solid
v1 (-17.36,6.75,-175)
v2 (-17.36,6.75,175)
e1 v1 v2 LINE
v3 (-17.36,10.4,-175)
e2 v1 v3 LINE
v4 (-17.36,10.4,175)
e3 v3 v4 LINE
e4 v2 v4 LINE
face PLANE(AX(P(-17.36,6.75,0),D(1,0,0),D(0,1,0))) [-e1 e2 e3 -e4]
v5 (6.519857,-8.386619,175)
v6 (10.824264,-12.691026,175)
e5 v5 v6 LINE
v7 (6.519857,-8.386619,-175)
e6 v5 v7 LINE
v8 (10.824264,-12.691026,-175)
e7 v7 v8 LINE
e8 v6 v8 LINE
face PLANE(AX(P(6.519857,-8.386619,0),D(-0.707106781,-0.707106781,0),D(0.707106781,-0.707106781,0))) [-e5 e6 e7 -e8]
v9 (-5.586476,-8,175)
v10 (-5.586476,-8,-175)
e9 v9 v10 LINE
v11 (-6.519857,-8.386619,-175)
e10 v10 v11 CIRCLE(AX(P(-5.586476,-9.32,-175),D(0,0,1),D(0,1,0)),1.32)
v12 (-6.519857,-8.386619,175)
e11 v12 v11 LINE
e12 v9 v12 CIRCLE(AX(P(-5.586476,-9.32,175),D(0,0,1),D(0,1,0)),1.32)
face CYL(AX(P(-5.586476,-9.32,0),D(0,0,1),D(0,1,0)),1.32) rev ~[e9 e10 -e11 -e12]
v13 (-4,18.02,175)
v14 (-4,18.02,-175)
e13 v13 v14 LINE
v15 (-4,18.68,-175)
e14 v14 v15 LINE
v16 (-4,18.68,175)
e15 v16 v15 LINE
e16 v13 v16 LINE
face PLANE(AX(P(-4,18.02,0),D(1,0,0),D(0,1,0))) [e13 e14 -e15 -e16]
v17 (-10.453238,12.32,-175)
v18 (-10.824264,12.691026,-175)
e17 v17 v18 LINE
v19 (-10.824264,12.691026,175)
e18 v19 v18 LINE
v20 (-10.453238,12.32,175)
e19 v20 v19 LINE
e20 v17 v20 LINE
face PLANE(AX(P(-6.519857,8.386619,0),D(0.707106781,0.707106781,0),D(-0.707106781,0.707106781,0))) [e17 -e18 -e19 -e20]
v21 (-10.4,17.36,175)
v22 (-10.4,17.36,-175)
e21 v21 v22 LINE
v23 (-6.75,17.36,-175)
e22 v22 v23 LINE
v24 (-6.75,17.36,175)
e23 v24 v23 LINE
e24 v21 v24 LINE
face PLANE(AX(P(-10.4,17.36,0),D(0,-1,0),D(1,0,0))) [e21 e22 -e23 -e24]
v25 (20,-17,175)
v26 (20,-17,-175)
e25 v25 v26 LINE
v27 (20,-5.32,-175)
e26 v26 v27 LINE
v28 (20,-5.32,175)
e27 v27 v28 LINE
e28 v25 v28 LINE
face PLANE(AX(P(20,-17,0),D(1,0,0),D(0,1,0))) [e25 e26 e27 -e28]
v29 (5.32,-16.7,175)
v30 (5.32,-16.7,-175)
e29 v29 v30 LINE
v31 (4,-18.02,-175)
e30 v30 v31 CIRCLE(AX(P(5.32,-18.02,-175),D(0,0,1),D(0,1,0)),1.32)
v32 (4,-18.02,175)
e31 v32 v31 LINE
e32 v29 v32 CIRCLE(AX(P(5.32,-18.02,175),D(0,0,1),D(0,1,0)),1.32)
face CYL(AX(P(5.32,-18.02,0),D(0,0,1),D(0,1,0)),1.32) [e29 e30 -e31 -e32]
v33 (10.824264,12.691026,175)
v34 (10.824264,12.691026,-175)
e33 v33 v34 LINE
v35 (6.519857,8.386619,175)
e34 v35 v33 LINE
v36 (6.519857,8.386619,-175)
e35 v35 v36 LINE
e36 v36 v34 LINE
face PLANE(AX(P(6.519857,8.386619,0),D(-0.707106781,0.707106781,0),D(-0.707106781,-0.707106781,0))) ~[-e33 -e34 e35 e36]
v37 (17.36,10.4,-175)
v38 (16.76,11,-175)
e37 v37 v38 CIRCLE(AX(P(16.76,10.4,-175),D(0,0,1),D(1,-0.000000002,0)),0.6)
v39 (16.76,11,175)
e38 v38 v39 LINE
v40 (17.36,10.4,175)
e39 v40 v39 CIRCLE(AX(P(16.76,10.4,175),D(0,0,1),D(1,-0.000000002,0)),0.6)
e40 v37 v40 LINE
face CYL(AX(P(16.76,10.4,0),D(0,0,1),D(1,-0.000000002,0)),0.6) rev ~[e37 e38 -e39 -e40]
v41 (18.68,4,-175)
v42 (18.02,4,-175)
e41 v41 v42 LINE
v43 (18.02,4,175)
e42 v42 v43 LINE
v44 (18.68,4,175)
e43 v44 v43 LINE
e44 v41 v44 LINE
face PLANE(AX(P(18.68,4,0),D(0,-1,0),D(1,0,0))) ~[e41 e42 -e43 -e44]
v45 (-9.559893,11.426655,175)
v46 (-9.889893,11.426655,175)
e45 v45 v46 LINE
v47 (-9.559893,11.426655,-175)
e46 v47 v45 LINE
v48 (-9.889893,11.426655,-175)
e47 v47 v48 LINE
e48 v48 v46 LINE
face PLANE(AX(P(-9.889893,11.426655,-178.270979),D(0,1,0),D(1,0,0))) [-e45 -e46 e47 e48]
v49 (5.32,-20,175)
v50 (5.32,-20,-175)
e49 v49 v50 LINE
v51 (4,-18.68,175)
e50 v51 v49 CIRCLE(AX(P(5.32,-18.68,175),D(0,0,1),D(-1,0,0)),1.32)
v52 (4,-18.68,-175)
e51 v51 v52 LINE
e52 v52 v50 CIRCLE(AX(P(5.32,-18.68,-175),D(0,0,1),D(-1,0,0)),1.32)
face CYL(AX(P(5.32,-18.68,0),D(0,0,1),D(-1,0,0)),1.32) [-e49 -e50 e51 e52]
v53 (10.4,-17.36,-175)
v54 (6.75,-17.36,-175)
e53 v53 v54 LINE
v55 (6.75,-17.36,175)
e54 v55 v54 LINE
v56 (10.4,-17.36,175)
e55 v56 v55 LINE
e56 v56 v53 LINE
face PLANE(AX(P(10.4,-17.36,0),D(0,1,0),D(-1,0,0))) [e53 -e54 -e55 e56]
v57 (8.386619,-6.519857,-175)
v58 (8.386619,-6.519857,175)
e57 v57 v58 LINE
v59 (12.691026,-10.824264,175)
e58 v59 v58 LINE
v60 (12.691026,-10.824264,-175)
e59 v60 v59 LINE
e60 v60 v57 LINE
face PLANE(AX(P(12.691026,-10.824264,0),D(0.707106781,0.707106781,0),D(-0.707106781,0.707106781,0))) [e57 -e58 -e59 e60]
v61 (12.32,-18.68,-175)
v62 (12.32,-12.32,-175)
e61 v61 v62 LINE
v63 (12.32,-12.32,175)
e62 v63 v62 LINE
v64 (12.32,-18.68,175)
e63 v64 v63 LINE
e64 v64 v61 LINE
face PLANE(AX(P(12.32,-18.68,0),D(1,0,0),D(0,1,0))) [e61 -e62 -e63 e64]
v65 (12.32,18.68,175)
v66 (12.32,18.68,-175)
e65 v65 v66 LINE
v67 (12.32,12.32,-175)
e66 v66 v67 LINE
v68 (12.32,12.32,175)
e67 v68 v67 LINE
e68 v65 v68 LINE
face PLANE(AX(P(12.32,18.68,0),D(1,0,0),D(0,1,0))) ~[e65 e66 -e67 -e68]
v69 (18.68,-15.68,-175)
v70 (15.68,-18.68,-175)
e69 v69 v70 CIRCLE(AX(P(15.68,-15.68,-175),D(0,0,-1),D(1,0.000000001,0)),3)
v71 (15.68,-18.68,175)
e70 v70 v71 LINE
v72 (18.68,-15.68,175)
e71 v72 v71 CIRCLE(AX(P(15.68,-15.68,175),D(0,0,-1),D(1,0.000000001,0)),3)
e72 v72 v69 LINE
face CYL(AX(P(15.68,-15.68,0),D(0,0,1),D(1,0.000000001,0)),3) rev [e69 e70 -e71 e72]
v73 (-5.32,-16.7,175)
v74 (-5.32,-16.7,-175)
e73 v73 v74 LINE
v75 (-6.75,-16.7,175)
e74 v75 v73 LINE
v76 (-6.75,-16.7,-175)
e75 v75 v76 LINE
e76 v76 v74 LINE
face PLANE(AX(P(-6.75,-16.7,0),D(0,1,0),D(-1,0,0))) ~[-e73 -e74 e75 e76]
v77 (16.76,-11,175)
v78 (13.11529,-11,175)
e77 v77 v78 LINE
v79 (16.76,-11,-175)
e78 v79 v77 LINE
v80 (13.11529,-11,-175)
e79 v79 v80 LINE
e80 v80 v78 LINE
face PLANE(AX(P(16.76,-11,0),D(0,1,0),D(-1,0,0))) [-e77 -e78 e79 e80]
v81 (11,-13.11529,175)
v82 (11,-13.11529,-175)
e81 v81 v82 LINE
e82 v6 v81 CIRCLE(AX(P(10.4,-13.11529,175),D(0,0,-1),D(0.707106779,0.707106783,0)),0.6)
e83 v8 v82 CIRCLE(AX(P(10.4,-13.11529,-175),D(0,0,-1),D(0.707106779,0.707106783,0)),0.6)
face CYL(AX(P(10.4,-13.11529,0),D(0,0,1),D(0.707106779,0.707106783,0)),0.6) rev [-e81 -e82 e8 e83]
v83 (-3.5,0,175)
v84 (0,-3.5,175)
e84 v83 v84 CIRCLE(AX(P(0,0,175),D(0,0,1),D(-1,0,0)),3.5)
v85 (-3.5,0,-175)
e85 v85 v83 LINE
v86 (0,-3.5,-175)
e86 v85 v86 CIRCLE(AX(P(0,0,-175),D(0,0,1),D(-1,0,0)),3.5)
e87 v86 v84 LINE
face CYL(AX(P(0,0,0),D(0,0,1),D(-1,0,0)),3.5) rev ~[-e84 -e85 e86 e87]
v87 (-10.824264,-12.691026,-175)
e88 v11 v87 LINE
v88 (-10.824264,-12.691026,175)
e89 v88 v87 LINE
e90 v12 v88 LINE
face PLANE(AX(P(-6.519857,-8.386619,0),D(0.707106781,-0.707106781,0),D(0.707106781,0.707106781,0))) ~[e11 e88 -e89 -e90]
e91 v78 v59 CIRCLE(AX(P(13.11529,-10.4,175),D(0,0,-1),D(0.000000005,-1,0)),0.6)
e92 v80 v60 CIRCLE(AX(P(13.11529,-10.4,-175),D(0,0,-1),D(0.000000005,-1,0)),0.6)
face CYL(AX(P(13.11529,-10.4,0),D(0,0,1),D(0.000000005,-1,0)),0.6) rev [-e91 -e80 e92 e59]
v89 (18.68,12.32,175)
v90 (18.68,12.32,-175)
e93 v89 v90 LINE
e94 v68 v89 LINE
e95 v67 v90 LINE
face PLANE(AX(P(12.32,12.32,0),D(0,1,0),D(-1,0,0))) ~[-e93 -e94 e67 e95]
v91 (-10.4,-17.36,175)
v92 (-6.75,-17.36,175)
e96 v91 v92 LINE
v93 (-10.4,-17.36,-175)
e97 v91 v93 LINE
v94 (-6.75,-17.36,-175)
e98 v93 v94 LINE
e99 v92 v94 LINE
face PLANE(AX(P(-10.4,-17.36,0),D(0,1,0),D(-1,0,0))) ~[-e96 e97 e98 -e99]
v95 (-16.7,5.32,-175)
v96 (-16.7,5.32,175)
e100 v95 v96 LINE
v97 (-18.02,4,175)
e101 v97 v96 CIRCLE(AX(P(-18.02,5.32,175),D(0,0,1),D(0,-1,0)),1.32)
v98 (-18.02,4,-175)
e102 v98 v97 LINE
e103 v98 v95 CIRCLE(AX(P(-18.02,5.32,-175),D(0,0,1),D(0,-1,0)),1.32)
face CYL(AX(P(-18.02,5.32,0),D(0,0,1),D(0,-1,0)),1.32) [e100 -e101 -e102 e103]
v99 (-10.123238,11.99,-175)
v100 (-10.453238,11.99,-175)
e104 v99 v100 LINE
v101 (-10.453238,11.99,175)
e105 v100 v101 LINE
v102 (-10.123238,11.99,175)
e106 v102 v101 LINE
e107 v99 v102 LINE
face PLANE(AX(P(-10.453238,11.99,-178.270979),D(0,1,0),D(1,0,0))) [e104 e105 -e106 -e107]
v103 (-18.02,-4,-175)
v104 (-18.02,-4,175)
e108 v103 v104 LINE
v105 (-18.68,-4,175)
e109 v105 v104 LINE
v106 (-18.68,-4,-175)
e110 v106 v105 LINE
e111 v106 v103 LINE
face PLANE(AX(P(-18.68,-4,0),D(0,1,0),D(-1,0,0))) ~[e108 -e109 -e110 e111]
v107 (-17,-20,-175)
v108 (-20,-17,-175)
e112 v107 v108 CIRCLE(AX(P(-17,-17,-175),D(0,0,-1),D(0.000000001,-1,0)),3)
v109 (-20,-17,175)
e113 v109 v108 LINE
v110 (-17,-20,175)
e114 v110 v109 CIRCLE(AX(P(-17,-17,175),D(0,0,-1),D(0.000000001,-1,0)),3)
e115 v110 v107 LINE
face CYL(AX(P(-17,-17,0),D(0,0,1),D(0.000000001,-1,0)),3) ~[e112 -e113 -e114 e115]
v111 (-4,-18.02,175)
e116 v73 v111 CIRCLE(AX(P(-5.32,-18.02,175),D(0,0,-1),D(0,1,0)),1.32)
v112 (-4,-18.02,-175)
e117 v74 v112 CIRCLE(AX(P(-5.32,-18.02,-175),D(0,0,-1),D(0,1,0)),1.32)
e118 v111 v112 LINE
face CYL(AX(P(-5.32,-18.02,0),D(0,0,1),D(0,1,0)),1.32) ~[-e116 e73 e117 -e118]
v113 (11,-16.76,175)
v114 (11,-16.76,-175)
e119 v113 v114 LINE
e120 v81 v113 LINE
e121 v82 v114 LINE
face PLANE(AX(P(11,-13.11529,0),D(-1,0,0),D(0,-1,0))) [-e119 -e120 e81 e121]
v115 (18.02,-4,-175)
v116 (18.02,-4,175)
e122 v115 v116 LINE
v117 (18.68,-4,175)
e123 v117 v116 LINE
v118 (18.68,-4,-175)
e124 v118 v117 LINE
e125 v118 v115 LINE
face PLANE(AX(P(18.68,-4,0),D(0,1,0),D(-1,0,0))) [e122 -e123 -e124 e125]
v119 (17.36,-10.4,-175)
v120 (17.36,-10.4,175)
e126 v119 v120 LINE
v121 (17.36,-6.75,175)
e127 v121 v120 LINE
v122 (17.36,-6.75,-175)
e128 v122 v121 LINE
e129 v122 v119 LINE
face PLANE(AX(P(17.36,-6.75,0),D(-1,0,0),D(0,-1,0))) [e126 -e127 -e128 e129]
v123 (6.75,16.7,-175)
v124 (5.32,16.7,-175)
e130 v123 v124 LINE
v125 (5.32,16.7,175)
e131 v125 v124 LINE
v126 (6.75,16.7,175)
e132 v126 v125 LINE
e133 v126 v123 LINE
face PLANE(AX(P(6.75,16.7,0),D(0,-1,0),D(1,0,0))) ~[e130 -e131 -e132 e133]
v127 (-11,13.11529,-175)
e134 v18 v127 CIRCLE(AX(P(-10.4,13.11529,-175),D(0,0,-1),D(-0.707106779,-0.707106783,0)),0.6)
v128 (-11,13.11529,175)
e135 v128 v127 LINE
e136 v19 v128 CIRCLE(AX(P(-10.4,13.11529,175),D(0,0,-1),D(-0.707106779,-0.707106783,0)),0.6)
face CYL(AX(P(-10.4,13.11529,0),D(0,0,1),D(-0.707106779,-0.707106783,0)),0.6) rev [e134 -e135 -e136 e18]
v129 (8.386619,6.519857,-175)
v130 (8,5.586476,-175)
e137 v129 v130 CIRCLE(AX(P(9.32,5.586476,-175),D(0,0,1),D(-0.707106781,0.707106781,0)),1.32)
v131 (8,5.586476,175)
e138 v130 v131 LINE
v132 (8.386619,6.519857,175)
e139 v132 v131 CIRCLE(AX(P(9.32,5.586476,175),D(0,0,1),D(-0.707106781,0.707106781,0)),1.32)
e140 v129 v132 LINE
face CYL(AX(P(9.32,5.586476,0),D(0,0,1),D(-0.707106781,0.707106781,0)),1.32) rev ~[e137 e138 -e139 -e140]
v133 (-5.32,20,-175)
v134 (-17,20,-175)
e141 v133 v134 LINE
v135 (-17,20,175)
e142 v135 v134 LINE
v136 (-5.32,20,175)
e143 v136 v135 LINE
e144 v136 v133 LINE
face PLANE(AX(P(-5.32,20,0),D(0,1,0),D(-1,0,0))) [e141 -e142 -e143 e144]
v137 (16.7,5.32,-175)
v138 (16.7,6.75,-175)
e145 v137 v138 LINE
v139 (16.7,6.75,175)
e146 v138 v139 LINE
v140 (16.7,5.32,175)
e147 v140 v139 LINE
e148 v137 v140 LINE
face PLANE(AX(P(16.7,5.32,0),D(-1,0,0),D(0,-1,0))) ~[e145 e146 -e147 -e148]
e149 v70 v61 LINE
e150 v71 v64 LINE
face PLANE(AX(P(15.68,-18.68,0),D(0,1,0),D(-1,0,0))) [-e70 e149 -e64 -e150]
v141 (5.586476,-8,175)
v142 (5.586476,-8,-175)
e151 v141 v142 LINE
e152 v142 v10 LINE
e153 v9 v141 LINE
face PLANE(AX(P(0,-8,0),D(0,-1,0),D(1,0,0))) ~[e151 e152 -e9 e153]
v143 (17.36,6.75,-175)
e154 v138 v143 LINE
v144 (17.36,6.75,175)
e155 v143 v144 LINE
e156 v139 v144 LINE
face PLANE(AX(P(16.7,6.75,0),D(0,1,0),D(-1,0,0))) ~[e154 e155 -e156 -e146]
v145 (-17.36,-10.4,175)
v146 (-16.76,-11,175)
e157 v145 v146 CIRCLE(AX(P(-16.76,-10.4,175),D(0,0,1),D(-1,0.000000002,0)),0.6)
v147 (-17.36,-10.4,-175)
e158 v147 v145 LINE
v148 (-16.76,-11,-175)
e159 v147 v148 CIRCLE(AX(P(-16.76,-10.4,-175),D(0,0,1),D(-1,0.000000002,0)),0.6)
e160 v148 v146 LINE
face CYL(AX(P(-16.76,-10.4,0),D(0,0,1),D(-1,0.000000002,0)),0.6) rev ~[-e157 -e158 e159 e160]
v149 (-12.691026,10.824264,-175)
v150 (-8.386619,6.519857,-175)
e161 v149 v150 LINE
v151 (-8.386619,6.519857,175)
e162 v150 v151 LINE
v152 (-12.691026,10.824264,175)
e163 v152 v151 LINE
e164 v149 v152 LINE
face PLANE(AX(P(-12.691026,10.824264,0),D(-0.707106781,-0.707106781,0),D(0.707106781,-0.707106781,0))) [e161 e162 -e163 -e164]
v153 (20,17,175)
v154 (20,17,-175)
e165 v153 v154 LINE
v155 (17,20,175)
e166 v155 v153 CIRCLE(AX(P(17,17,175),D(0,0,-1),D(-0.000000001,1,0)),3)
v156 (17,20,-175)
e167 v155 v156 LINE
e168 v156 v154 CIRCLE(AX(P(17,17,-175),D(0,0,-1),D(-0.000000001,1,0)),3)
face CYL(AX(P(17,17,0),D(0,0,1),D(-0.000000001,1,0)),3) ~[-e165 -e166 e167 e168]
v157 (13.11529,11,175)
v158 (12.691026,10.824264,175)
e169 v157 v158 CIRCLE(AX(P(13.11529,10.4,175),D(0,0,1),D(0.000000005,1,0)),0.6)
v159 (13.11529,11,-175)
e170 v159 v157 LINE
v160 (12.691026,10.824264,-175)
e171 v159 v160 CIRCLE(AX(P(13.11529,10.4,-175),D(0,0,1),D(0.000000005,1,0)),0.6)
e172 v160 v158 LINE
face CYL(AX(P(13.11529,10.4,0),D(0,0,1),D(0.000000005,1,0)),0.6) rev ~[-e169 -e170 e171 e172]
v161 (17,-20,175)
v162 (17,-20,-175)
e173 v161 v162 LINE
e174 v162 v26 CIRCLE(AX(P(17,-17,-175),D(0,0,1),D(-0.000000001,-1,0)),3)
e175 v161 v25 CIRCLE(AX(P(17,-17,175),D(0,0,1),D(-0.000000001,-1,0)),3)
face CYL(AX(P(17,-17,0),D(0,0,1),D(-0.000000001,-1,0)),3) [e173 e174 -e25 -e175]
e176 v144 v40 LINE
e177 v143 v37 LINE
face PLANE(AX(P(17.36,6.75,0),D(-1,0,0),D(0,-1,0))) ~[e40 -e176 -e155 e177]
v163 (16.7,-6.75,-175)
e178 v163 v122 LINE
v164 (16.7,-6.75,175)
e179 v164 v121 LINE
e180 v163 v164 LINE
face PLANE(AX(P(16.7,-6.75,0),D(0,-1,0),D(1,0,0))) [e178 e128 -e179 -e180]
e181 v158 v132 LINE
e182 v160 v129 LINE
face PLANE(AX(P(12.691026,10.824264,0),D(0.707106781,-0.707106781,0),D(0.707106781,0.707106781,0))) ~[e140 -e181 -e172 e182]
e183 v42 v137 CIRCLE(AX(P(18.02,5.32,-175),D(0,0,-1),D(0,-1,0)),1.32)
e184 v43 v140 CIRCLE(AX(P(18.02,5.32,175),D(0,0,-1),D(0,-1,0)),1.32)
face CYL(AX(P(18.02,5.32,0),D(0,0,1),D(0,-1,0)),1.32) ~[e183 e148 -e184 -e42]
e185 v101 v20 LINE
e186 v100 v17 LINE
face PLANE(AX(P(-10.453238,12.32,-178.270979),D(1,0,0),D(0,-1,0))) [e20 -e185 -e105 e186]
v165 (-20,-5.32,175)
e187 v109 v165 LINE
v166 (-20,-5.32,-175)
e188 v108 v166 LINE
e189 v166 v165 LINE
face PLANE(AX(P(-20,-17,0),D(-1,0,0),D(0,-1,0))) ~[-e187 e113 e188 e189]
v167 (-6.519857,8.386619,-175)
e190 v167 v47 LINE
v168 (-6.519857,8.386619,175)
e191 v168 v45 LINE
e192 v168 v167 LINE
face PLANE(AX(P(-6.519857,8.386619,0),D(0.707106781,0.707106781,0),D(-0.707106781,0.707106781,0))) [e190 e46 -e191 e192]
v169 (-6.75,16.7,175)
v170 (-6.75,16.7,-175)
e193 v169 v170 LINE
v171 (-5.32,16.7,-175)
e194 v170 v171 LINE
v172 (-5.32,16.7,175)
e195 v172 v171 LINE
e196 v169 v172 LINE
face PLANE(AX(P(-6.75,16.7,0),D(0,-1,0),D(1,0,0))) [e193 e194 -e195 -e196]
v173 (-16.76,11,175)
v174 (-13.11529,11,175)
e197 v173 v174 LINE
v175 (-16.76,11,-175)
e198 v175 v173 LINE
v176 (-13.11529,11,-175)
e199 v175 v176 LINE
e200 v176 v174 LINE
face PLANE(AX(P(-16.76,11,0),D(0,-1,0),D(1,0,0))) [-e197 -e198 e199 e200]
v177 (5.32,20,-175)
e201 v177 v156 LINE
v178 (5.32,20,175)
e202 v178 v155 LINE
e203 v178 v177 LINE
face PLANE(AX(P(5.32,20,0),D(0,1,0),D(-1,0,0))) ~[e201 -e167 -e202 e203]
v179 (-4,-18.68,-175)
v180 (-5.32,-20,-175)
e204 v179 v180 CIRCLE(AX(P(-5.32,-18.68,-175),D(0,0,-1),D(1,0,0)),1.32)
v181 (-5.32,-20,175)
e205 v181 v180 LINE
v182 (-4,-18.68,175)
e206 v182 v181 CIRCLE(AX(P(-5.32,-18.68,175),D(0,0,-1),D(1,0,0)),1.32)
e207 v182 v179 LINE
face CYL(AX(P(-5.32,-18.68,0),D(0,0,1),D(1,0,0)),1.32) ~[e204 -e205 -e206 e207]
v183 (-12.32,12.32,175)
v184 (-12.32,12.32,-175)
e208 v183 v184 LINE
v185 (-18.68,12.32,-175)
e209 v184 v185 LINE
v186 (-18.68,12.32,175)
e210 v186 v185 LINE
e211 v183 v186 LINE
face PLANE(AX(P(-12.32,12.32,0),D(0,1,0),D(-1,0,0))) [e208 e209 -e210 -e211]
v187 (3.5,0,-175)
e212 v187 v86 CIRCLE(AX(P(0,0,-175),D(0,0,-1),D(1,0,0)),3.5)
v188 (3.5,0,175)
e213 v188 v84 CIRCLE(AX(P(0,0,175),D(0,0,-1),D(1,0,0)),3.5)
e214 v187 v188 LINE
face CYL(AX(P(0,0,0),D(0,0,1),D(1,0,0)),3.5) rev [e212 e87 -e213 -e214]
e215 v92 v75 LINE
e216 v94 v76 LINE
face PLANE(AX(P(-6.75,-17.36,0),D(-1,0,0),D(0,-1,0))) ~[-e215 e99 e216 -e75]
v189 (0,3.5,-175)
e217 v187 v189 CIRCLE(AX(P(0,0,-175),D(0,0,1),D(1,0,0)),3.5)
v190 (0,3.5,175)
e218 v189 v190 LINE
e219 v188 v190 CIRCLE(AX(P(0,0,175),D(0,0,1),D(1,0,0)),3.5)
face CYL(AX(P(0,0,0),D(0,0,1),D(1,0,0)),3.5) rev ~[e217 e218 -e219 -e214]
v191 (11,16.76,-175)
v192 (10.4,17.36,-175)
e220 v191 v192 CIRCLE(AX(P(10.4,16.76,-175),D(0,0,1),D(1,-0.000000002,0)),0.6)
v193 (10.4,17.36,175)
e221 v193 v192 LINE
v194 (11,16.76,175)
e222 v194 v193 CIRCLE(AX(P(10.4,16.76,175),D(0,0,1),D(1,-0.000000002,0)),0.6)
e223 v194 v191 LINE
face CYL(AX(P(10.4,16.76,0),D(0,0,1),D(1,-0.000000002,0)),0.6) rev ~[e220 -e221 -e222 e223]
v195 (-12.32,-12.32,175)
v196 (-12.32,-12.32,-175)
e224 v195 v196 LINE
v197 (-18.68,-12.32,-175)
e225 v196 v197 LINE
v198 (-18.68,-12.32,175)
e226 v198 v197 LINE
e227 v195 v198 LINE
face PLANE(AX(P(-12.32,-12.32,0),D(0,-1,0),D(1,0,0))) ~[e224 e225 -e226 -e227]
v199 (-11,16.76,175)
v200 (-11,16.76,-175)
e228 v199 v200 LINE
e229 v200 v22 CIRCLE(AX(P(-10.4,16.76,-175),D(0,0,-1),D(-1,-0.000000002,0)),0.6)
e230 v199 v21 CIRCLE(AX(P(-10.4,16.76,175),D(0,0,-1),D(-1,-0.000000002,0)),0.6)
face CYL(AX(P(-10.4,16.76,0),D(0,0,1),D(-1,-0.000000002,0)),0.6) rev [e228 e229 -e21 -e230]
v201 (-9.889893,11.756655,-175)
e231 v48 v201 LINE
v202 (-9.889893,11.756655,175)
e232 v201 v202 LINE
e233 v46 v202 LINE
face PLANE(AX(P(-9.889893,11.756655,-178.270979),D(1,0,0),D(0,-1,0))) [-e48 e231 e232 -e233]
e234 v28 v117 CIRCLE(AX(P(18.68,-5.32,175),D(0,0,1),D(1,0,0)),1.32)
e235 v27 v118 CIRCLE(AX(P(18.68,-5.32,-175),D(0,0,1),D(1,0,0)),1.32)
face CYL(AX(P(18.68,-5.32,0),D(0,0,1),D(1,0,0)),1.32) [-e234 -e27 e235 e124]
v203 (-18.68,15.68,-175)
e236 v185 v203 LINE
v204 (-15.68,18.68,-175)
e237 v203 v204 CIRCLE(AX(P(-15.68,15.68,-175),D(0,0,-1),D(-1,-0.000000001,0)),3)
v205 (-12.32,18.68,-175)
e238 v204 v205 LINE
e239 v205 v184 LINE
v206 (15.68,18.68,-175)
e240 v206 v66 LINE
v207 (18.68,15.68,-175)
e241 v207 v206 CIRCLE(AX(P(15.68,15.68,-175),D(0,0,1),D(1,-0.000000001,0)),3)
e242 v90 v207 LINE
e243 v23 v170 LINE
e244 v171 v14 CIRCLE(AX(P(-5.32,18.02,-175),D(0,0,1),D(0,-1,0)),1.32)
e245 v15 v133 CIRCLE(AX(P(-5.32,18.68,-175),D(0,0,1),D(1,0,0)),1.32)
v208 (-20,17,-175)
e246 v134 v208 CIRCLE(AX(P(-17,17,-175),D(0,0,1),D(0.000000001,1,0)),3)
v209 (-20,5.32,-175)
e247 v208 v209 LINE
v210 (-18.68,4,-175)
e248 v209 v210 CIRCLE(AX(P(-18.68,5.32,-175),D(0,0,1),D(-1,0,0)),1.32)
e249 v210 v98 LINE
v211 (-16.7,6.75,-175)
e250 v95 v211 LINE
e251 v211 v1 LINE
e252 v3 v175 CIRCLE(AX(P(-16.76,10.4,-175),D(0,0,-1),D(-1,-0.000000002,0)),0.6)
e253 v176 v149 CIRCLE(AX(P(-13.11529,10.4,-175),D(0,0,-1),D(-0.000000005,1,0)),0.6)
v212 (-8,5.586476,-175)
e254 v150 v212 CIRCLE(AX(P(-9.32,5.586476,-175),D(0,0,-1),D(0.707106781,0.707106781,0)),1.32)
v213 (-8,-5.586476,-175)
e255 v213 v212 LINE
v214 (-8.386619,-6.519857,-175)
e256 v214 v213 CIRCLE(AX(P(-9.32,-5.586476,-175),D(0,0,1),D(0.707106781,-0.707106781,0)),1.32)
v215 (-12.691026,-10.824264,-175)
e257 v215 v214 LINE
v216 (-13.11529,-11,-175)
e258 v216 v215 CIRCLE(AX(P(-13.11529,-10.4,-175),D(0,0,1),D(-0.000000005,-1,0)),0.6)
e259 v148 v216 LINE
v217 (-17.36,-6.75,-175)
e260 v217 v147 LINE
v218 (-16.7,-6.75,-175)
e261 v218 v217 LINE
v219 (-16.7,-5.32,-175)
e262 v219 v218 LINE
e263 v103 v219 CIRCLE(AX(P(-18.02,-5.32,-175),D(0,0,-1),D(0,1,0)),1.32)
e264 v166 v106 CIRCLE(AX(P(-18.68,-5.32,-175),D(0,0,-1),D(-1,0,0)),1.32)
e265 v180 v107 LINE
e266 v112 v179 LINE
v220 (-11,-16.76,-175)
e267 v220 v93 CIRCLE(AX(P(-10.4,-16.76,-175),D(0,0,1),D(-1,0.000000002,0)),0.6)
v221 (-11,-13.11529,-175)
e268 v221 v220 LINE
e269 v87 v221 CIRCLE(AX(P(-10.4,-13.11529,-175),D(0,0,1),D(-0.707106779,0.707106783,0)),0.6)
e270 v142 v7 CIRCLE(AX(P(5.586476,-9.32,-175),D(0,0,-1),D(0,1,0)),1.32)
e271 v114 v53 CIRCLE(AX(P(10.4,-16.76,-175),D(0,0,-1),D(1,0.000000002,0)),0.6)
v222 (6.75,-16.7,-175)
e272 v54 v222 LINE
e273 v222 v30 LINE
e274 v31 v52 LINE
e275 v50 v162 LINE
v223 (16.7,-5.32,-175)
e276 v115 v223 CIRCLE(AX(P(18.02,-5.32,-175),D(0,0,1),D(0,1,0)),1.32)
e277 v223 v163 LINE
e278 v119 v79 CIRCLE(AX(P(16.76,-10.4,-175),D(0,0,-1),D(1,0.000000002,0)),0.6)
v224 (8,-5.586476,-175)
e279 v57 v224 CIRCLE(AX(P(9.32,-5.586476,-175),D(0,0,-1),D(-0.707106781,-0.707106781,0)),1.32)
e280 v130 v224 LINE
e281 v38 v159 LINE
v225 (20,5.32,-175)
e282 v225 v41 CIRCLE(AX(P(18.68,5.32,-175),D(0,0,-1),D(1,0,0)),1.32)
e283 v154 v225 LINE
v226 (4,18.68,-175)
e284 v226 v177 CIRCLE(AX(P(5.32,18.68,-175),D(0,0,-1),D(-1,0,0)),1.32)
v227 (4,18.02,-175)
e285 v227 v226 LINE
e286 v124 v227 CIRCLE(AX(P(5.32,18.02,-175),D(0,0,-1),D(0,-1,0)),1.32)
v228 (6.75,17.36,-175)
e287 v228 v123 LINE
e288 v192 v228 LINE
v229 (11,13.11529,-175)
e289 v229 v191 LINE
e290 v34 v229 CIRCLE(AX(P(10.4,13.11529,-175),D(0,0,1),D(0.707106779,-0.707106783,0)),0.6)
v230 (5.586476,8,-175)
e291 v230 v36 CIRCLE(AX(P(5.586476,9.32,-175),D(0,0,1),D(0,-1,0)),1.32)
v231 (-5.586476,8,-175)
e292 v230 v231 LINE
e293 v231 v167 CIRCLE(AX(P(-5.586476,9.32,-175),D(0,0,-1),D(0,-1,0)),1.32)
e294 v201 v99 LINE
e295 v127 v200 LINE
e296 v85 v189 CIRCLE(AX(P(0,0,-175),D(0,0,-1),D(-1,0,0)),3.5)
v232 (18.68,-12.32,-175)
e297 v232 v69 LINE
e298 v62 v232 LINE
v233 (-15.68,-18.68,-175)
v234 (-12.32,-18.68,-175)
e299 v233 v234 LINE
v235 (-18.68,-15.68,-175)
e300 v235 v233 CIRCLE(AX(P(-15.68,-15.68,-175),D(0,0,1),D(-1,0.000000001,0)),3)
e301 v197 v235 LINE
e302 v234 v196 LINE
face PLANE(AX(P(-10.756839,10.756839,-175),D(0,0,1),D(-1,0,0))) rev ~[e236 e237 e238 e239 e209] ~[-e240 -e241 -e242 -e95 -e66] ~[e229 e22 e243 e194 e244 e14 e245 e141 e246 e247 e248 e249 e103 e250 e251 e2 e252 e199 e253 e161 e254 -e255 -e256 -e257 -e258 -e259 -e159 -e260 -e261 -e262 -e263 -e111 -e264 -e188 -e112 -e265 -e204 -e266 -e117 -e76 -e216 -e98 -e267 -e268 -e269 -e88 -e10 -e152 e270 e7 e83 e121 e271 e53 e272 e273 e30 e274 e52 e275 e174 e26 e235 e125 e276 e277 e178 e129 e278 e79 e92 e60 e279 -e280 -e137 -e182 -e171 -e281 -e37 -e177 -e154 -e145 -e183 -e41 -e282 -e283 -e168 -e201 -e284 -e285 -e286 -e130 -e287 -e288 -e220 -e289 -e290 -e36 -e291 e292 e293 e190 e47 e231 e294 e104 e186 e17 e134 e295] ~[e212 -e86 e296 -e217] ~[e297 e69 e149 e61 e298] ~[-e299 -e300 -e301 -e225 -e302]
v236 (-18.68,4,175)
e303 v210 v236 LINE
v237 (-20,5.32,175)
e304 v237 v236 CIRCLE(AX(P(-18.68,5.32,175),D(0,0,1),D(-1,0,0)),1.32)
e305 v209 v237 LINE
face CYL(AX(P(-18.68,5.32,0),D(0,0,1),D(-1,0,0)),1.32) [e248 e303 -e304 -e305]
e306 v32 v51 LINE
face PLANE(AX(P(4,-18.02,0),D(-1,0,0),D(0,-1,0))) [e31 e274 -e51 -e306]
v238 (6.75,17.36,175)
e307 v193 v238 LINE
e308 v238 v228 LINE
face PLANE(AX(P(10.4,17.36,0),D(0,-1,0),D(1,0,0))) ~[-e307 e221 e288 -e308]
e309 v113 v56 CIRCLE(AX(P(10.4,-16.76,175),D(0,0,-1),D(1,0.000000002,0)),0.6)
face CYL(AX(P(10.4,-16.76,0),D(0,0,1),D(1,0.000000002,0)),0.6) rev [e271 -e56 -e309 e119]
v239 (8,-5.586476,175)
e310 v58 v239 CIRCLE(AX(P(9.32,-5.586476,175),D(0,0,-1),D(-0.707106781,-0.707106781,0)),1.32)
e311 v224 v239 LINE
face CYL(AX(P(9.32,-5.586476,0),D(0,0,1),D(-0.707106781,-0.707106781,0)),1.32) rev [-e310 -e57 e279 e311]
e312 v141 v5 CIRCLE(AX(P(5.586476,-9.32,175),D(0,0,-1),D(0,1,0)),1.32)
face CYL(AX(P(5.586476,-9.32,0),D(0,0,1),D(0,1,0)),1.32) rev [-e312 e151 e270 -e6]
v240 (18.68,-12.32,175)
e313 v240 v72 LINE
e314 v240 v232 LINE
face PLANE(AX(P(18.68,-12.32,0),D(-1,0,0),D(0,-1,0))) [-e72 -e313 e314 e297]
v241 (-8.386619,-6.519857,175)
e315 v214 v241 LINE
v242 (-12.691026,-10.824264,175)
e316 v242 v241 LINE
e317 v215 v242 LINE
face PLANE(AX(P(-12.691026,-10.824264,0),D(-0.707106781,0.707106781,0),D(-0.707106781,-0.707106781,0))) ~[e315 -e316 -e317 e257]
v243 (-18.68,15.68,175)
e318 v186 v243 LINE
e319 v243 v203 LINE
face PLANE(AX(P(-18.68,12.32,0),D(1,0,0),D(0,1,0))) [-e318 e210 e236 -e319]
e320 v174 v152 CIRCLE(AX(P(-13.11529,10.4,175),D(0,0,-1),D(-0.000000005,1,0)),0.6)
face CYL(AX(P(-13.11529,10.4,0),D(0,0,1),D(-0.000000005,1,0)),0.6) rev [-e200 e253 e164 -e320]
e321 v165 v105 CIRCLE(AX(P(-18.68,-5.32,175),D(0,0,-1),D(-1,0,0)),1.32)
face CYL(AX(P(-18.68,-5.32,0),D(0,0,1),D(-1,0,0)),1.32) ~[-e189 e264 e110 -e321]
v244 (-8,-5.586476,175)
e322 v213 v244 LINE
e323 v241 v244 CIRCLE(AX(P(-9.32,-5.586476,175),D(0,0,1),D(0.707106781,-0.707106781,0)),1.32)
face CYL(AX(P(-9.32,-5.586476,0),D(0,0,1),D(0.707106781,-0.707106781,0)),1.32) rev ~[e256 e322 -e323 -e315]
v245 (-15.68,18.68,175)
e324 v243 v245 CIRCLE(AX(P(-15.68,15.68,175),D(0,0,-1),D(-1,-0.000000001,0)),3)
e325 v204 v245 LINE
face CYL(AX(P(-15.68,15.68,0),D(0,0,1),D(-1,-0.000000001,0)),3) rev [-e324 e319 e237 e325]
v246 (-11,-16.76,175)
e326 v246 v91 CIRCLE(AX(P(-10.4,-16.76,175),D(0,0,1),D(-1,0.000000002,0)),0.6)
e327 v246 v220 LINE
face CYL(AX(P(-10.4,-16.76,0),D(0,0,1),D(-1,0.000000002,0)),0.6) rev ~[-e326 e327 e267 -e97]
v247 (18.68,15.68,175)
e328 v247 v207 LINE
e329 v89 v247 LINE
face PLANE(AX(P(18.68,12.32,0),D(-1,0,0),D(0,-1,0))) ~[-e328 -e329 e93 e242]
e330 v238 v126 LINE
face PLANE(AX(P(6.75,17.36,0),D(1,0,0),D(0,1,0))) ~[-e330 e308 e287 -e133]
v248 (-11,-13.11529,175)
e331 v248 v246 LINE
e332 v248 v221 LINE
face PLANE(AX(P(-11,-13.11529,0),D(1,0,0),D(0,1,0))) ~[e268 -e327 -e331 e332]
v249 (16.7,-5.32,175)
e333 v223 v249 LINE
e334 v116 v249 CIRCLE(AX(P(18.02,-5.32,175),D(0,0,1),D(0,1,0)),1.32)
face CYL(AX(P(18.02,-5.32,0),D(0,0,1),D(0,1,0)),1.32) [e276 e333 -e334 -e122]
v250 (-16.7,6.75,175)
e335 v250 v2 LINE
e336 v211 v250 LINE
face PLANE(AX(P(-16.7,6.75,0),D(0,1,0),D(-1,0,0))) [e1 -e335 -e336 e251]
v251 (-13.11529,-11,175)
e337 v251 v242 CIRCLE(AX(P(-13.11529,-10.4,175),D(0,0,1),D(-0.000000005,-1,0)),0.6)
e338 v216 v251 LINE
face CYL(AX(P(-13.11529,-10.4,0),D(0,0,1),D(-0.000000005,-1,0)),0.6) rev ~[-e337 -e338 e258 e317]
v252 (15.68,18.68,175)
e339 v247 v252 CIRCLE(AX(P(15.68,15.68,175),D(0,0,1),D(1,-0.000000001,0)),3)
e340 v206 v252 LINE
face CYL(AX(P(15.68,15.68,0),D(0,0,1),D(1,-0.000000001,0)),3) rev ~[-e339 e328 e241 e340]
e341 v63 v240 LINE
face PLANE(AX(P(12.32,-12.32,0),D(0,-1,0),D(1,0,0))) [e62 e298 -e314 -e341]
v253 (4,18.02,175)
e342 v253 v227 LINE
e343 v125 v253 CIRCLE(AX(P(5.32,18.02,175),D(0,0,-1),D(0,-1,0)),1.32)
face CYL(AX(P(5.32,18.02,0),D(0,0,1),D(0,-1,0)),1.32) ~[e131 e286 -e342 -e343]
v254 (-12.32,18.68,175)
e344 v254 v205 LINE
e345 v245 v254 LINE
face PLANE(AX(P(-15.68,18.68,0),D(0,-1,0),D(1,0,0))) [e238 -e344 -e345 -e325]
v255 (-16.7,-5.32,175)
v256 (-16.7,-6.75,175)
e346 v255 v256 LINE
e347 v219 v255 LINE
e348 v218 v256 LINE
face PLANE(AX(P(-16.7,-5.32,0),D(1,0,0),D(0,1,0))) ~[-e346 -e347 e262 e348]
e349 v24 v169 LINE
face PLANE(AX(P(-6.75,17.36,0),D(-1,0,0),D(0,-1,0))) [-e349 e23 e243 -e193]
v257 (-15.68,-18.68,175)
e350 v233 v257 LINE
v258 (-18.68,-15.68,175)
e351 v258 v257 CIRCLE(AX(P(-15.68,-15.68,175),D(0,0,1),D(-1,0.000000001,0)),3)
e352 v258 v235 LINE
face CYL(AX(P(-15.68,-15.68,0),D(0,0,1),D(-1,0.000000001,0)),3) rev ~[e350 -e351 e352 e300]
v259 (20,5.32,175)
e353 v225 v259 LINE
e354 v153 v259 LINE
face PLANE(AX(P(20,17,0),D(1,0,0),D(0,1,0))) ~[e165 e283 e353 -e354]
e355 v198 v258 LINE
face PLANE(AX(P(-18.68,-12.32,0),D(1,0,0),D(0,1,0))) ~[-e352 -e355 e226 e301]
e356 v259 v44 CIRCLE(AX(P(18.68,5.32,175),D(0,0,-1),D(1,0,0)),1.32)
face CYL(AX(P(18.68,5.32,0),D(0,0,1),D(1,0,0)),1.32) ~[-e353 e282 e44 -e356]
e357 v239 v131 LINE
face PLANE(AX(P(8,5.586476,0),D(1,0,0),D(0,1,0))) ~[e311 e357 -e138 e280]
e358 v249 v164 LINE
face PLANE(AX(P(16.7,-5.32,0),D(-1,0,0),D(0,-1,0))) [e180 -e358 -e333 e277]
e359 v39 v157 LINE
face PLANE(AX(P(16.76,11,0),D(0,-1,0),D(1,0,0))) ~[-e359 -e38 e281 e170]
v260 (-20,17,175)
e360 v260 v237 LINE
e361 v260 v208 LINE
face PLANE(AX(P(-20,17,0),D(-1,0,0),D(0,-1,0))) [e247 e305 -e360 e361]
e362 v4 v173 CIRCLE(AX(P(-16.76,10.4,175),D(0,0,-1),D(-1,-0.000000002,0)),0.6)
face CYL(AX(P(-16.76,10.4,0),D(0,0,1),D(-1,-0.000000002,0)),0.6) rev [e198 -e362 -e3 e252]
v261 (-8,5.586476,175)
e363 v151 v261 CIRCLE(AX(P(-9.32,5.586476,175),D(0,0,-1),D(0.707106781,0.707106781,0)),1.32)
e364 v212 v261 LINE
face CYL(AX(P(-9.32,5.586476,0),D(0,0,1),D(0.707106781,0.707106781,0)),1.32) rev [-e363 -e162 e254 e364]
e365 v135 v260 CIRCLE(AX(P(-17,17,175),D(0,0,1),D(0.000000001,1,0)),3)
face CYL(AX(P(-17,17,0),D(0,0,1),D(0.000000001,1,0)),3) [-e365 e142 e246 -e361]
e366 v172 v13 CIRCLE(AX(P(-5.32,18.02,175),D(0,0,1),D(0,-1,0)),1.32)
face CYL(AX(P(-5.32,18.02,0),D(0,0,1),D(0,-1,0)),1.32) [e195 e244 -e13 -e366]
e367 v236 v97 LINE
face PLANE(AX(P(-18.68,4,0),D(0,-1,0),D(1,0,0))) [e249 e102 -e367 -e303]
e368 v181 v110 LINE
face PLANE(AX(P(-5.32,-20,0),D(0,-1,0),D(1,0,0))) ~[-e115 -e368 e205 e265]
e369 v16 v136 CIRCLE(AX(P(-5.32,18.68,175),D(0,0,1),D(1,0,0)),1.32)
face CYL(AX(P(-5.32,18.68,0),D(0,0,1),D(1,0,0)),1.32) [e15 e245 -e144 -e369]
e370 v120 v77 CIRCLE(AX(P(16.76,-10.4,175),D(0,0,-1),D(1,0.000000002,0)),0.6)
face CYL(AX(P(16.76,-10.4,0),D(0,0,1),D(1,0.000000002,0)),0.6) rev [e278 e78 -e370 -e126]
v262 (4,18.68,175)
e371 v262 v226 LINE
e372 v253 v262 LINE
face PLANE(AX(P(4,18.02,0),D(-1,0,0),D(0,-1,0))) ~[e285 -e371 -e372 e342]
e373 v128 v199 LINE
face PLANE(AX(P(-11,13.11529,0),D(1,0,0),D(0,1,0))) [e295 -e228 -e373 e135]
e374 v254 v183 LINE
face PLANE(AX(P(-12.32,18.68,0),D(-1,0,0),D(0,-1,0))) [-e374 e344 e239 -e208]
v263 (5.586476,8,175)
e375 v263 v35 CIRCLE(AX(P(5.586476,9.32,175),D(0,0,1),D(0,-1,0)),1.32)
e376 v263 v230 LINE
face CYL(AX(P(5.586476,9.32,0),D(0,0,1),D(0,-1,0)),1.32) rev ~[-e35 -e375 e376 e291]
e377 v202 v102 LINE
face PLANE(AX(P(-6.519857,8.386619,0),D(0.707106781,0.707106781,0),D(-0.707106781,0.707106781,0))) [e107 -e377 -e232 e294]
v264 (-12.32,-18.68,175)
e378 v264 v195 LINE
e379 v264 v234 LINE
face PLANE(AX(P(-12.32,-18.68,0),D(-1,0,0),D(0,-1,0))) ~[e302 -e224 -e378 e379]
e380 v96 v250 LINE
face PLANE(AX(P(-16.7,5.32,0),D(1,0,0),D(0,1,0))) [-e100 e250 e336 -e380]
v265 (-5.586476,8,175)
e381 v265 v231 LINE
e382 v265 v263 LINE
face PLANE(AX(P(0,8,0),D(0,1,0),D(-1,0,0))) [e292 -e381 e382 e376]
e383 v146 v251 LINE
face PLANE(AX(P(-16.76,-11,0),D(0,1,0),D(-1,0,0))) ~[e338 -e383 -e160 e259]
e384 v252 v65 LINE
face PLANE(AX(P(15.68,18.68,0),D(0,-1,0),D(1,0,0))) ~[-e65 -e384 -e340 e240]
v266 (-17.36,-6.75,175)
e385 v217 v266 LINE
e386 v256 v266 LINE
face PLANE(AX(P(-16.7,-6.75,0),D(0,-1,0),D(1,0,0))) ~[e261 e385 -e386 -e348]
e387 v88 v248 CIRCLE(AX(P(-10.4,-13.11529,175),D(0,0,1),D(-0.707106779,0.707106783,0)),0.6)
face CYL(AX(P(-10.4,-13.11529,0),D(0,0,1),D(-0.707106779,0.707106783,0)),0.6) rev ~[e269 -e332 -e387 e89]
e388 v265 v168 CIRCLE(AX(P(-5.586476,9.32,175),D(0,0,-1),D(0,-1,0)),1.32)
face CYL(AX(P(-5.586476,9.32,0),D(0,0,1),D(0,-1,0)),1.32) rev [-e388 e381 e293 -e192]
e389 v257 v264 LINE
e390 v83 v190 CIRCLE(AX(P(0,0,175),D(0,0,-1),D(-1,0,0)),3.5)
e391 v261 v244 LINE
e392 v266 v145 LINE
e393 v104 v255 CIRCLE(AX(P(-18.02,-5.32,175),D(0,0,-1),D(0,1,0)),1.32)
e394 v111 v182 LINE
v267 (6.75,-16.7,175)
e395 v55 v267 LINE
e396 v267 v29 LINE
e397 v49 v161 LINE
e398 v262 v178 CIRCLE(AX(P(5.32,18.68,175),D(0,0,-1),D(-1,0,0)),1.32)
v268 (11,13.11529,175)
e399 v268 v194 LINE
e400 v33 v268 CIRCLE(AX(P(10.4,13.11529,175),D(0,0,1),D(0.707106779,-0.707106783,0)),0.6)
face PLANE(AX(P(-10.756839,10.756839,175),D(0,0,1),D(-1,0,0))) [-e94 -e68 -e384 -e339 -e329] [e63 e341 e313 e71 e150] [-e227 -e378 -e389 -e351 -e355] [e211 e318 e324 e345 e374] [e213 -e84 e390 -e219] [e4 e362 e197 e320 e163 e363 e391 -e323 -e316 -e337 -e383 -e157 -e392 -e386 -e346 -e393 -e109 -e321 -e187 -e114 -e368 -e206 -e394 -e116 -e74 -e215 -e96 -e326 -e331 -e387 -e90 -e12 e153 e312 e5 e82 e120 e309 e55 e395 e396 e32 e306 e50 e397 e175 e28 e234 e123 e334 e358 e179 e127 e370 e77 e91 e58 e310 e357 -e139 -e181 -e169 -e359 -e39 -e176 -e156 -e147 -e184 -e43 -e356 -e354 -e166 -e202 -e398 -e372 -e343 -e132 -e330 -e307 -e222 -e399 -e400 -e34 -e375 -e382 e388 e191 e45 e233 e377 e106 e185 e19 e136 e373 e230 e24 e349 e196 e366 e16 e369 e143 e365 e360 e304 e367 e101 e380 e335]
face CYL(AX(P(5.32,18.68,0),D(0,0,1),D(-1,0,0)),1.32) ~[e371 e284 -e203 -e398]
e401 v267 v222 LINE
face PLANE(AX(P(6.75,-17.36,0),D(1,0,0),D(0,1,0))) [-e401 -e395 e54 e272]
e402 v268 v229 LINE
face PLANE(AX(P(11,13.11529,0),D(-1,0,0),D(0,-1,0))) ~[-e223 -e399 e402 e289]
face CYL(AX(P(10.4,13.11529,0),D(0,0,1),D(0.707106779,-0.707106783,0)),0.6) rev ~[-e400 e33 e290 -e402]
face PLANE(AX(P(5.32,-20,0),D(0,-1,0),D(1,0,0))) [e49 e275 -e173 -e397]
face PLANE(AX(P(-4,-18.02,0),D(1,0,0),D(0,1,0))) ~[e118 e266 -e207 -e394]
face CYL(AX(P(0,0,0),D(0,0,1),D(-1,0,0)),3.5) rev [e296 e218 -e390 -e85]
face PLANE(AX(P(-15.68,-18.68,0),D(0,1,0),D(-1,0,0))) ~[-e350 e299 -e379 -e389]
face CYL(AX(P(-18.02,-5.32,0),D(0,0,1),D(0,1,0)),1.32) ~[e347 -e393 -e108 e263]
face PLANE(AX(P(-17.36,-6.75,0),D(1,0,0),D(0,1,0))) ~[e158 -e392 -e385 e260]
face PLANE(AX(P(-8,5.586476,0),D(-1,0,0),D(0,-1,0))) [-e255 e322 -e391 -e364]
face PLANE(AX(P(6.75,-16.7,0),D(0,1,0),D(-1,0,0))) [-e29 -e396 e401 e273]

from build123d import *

# Parameters (mm, degrees)
BOSS_EXTRUDE1_DEPTH     = 175
CUT_EXTRUDE1_DEPTH      = 178.270979012
CUT_EXTRUDE1_DEPTH_BACK = 178.270979012


with BuildPart() as part:
    # Sketch4 → Boss-Extrude1 (new, symmetric)
    with BuildSketch(Plane.XY):
        with BuildLine():
            Line((20, -17), (20, -5.32))
            ThreePointArc((20, -5.32), (19.613380951, -4.386619049), (18.68, -4))
            Line((18.68, -4), (18.02, -4))
            ThreePointArc((18.02, -4), (17.086619049, -4.386619049), (16.7, -5.32))
            Line((16.7, -5.32), (16.7, -6.75))
            Line((16.7, -6.75), (17.36, -6.75))
            Line((17.36, -6.75), (17.36, -10.4))
            ThreePointArc((17.36, -10.4), (17.184264069, -10.824264069), (16.76, -11))
            Line((16.76, -11), (13.11529004, -11))
            ThreePointArc((13.11529004, -11), (12.88567998, -10.95432772), (12.691025971, -10.824264069))
            Line((12.691025971, -10.824264069), (8.386619049, -6.519857147))
            ThreePointArc((8.386619049, -6.519857147), (8.100479017, -6.091618326), (8, -5.586476195))
            Line((8, -5.586476195), (8, 0))
            Line((8, 0), (3.5, 0))
            ThreePointArc((3.5, 0), (2.474873734, -2.474873734), (0, -3.5))
            Line((0, -3.5), (0, -8))
            Line((0, -8), (5.586476195, -8))
            ThreePointArc((5.586476195, -8), (6.091618326, -8.100479017), (6.519857147, -8.386619049))
            Line((6.519857147, -8.386619049), (10.824264069, -12.691025971))
            ThreePointArc((10.824264069, -12.691025971), (10.95432772, -12.88567998), (11, -13.11529004))
            Line((11, -13.11529004), (11, -16.76))
            ThreePointArc((11, -16.76), (10.824264069, -17.184264069), (10.4, -17.36))
            Line((10.4, -17.36), (6.75, -17.36))
            Line((6.75, -17.36), (6.75, -16.7))
            Line((6.75, -16.7), (5.32, -16.7))
            ThreePointArc((5.32, -16.7), (4.386619049, -17.086619049), (4, -18.02))
            Line((4, -18.02), (4, -18.68))
            ThreePointArc((4, -18.68), (4.386619049, -19.613380951), (5.32, -20))
            Line((5.32, -20), (17, -20))
            ThreePointArc((17, -20), (19.121320344, -19.121320344), (20, -17))
        make_face()
        with BuildLine():
            Line((15.68, -18.68), (12.32, -18.68))
            Line((12.32, -18.68), (12.32, -12.32))
            Line((12.32, -12.32), (18.68, -12.32))
            Line((18.68, -12.32), (18.68, -15.68))
            ThreePointArc((18.68, -15.68), (17.801320344, -17.801320344), (15.68, -18.68))
        make_face(mode=Mode.SUBTRACT)
    extrude(amount=BOSS_EXTRUDE1_DEPTH, both=True)

    # Mirror1: part across plane


with BuildPart() as part_1:
    add(part.part)
    add(part.part.mirror(Plane(origin=(0, 0, 0), x_dir=(0, 0, 1), z_dir=(1, 0, 0))))

    # Mirror2: part across plane


with BuildPart() as part_2:
    add(part_1.part)
    add(part_1.part.mirror(Plane.ZX))

    # Sketch5 → Cut-Extrude1 (cut, two sides: drawn at the far end of the back side and taken through both)
    with BuildSketch(Plane.XY.offset(-CUT_EXTRUDE1_DEPTH_BACK)):
        Polygon((-10.453238098, 12.32), (-10.453238098, 11.99), (-10.123238098, 11.99), (-9.88989286, 11.756654762), (-9.88989286, 11.426654762), (-9.55989286, 11.426654762), (-9.55989286, 12.32), align=None)
    extrude(amount=CUT_EXTRUDE1_DEPTH + CUT_EXTRUDE1_DEPTH_BACK, mode=Mode.SUBTRACT)


solid = part_2.part
